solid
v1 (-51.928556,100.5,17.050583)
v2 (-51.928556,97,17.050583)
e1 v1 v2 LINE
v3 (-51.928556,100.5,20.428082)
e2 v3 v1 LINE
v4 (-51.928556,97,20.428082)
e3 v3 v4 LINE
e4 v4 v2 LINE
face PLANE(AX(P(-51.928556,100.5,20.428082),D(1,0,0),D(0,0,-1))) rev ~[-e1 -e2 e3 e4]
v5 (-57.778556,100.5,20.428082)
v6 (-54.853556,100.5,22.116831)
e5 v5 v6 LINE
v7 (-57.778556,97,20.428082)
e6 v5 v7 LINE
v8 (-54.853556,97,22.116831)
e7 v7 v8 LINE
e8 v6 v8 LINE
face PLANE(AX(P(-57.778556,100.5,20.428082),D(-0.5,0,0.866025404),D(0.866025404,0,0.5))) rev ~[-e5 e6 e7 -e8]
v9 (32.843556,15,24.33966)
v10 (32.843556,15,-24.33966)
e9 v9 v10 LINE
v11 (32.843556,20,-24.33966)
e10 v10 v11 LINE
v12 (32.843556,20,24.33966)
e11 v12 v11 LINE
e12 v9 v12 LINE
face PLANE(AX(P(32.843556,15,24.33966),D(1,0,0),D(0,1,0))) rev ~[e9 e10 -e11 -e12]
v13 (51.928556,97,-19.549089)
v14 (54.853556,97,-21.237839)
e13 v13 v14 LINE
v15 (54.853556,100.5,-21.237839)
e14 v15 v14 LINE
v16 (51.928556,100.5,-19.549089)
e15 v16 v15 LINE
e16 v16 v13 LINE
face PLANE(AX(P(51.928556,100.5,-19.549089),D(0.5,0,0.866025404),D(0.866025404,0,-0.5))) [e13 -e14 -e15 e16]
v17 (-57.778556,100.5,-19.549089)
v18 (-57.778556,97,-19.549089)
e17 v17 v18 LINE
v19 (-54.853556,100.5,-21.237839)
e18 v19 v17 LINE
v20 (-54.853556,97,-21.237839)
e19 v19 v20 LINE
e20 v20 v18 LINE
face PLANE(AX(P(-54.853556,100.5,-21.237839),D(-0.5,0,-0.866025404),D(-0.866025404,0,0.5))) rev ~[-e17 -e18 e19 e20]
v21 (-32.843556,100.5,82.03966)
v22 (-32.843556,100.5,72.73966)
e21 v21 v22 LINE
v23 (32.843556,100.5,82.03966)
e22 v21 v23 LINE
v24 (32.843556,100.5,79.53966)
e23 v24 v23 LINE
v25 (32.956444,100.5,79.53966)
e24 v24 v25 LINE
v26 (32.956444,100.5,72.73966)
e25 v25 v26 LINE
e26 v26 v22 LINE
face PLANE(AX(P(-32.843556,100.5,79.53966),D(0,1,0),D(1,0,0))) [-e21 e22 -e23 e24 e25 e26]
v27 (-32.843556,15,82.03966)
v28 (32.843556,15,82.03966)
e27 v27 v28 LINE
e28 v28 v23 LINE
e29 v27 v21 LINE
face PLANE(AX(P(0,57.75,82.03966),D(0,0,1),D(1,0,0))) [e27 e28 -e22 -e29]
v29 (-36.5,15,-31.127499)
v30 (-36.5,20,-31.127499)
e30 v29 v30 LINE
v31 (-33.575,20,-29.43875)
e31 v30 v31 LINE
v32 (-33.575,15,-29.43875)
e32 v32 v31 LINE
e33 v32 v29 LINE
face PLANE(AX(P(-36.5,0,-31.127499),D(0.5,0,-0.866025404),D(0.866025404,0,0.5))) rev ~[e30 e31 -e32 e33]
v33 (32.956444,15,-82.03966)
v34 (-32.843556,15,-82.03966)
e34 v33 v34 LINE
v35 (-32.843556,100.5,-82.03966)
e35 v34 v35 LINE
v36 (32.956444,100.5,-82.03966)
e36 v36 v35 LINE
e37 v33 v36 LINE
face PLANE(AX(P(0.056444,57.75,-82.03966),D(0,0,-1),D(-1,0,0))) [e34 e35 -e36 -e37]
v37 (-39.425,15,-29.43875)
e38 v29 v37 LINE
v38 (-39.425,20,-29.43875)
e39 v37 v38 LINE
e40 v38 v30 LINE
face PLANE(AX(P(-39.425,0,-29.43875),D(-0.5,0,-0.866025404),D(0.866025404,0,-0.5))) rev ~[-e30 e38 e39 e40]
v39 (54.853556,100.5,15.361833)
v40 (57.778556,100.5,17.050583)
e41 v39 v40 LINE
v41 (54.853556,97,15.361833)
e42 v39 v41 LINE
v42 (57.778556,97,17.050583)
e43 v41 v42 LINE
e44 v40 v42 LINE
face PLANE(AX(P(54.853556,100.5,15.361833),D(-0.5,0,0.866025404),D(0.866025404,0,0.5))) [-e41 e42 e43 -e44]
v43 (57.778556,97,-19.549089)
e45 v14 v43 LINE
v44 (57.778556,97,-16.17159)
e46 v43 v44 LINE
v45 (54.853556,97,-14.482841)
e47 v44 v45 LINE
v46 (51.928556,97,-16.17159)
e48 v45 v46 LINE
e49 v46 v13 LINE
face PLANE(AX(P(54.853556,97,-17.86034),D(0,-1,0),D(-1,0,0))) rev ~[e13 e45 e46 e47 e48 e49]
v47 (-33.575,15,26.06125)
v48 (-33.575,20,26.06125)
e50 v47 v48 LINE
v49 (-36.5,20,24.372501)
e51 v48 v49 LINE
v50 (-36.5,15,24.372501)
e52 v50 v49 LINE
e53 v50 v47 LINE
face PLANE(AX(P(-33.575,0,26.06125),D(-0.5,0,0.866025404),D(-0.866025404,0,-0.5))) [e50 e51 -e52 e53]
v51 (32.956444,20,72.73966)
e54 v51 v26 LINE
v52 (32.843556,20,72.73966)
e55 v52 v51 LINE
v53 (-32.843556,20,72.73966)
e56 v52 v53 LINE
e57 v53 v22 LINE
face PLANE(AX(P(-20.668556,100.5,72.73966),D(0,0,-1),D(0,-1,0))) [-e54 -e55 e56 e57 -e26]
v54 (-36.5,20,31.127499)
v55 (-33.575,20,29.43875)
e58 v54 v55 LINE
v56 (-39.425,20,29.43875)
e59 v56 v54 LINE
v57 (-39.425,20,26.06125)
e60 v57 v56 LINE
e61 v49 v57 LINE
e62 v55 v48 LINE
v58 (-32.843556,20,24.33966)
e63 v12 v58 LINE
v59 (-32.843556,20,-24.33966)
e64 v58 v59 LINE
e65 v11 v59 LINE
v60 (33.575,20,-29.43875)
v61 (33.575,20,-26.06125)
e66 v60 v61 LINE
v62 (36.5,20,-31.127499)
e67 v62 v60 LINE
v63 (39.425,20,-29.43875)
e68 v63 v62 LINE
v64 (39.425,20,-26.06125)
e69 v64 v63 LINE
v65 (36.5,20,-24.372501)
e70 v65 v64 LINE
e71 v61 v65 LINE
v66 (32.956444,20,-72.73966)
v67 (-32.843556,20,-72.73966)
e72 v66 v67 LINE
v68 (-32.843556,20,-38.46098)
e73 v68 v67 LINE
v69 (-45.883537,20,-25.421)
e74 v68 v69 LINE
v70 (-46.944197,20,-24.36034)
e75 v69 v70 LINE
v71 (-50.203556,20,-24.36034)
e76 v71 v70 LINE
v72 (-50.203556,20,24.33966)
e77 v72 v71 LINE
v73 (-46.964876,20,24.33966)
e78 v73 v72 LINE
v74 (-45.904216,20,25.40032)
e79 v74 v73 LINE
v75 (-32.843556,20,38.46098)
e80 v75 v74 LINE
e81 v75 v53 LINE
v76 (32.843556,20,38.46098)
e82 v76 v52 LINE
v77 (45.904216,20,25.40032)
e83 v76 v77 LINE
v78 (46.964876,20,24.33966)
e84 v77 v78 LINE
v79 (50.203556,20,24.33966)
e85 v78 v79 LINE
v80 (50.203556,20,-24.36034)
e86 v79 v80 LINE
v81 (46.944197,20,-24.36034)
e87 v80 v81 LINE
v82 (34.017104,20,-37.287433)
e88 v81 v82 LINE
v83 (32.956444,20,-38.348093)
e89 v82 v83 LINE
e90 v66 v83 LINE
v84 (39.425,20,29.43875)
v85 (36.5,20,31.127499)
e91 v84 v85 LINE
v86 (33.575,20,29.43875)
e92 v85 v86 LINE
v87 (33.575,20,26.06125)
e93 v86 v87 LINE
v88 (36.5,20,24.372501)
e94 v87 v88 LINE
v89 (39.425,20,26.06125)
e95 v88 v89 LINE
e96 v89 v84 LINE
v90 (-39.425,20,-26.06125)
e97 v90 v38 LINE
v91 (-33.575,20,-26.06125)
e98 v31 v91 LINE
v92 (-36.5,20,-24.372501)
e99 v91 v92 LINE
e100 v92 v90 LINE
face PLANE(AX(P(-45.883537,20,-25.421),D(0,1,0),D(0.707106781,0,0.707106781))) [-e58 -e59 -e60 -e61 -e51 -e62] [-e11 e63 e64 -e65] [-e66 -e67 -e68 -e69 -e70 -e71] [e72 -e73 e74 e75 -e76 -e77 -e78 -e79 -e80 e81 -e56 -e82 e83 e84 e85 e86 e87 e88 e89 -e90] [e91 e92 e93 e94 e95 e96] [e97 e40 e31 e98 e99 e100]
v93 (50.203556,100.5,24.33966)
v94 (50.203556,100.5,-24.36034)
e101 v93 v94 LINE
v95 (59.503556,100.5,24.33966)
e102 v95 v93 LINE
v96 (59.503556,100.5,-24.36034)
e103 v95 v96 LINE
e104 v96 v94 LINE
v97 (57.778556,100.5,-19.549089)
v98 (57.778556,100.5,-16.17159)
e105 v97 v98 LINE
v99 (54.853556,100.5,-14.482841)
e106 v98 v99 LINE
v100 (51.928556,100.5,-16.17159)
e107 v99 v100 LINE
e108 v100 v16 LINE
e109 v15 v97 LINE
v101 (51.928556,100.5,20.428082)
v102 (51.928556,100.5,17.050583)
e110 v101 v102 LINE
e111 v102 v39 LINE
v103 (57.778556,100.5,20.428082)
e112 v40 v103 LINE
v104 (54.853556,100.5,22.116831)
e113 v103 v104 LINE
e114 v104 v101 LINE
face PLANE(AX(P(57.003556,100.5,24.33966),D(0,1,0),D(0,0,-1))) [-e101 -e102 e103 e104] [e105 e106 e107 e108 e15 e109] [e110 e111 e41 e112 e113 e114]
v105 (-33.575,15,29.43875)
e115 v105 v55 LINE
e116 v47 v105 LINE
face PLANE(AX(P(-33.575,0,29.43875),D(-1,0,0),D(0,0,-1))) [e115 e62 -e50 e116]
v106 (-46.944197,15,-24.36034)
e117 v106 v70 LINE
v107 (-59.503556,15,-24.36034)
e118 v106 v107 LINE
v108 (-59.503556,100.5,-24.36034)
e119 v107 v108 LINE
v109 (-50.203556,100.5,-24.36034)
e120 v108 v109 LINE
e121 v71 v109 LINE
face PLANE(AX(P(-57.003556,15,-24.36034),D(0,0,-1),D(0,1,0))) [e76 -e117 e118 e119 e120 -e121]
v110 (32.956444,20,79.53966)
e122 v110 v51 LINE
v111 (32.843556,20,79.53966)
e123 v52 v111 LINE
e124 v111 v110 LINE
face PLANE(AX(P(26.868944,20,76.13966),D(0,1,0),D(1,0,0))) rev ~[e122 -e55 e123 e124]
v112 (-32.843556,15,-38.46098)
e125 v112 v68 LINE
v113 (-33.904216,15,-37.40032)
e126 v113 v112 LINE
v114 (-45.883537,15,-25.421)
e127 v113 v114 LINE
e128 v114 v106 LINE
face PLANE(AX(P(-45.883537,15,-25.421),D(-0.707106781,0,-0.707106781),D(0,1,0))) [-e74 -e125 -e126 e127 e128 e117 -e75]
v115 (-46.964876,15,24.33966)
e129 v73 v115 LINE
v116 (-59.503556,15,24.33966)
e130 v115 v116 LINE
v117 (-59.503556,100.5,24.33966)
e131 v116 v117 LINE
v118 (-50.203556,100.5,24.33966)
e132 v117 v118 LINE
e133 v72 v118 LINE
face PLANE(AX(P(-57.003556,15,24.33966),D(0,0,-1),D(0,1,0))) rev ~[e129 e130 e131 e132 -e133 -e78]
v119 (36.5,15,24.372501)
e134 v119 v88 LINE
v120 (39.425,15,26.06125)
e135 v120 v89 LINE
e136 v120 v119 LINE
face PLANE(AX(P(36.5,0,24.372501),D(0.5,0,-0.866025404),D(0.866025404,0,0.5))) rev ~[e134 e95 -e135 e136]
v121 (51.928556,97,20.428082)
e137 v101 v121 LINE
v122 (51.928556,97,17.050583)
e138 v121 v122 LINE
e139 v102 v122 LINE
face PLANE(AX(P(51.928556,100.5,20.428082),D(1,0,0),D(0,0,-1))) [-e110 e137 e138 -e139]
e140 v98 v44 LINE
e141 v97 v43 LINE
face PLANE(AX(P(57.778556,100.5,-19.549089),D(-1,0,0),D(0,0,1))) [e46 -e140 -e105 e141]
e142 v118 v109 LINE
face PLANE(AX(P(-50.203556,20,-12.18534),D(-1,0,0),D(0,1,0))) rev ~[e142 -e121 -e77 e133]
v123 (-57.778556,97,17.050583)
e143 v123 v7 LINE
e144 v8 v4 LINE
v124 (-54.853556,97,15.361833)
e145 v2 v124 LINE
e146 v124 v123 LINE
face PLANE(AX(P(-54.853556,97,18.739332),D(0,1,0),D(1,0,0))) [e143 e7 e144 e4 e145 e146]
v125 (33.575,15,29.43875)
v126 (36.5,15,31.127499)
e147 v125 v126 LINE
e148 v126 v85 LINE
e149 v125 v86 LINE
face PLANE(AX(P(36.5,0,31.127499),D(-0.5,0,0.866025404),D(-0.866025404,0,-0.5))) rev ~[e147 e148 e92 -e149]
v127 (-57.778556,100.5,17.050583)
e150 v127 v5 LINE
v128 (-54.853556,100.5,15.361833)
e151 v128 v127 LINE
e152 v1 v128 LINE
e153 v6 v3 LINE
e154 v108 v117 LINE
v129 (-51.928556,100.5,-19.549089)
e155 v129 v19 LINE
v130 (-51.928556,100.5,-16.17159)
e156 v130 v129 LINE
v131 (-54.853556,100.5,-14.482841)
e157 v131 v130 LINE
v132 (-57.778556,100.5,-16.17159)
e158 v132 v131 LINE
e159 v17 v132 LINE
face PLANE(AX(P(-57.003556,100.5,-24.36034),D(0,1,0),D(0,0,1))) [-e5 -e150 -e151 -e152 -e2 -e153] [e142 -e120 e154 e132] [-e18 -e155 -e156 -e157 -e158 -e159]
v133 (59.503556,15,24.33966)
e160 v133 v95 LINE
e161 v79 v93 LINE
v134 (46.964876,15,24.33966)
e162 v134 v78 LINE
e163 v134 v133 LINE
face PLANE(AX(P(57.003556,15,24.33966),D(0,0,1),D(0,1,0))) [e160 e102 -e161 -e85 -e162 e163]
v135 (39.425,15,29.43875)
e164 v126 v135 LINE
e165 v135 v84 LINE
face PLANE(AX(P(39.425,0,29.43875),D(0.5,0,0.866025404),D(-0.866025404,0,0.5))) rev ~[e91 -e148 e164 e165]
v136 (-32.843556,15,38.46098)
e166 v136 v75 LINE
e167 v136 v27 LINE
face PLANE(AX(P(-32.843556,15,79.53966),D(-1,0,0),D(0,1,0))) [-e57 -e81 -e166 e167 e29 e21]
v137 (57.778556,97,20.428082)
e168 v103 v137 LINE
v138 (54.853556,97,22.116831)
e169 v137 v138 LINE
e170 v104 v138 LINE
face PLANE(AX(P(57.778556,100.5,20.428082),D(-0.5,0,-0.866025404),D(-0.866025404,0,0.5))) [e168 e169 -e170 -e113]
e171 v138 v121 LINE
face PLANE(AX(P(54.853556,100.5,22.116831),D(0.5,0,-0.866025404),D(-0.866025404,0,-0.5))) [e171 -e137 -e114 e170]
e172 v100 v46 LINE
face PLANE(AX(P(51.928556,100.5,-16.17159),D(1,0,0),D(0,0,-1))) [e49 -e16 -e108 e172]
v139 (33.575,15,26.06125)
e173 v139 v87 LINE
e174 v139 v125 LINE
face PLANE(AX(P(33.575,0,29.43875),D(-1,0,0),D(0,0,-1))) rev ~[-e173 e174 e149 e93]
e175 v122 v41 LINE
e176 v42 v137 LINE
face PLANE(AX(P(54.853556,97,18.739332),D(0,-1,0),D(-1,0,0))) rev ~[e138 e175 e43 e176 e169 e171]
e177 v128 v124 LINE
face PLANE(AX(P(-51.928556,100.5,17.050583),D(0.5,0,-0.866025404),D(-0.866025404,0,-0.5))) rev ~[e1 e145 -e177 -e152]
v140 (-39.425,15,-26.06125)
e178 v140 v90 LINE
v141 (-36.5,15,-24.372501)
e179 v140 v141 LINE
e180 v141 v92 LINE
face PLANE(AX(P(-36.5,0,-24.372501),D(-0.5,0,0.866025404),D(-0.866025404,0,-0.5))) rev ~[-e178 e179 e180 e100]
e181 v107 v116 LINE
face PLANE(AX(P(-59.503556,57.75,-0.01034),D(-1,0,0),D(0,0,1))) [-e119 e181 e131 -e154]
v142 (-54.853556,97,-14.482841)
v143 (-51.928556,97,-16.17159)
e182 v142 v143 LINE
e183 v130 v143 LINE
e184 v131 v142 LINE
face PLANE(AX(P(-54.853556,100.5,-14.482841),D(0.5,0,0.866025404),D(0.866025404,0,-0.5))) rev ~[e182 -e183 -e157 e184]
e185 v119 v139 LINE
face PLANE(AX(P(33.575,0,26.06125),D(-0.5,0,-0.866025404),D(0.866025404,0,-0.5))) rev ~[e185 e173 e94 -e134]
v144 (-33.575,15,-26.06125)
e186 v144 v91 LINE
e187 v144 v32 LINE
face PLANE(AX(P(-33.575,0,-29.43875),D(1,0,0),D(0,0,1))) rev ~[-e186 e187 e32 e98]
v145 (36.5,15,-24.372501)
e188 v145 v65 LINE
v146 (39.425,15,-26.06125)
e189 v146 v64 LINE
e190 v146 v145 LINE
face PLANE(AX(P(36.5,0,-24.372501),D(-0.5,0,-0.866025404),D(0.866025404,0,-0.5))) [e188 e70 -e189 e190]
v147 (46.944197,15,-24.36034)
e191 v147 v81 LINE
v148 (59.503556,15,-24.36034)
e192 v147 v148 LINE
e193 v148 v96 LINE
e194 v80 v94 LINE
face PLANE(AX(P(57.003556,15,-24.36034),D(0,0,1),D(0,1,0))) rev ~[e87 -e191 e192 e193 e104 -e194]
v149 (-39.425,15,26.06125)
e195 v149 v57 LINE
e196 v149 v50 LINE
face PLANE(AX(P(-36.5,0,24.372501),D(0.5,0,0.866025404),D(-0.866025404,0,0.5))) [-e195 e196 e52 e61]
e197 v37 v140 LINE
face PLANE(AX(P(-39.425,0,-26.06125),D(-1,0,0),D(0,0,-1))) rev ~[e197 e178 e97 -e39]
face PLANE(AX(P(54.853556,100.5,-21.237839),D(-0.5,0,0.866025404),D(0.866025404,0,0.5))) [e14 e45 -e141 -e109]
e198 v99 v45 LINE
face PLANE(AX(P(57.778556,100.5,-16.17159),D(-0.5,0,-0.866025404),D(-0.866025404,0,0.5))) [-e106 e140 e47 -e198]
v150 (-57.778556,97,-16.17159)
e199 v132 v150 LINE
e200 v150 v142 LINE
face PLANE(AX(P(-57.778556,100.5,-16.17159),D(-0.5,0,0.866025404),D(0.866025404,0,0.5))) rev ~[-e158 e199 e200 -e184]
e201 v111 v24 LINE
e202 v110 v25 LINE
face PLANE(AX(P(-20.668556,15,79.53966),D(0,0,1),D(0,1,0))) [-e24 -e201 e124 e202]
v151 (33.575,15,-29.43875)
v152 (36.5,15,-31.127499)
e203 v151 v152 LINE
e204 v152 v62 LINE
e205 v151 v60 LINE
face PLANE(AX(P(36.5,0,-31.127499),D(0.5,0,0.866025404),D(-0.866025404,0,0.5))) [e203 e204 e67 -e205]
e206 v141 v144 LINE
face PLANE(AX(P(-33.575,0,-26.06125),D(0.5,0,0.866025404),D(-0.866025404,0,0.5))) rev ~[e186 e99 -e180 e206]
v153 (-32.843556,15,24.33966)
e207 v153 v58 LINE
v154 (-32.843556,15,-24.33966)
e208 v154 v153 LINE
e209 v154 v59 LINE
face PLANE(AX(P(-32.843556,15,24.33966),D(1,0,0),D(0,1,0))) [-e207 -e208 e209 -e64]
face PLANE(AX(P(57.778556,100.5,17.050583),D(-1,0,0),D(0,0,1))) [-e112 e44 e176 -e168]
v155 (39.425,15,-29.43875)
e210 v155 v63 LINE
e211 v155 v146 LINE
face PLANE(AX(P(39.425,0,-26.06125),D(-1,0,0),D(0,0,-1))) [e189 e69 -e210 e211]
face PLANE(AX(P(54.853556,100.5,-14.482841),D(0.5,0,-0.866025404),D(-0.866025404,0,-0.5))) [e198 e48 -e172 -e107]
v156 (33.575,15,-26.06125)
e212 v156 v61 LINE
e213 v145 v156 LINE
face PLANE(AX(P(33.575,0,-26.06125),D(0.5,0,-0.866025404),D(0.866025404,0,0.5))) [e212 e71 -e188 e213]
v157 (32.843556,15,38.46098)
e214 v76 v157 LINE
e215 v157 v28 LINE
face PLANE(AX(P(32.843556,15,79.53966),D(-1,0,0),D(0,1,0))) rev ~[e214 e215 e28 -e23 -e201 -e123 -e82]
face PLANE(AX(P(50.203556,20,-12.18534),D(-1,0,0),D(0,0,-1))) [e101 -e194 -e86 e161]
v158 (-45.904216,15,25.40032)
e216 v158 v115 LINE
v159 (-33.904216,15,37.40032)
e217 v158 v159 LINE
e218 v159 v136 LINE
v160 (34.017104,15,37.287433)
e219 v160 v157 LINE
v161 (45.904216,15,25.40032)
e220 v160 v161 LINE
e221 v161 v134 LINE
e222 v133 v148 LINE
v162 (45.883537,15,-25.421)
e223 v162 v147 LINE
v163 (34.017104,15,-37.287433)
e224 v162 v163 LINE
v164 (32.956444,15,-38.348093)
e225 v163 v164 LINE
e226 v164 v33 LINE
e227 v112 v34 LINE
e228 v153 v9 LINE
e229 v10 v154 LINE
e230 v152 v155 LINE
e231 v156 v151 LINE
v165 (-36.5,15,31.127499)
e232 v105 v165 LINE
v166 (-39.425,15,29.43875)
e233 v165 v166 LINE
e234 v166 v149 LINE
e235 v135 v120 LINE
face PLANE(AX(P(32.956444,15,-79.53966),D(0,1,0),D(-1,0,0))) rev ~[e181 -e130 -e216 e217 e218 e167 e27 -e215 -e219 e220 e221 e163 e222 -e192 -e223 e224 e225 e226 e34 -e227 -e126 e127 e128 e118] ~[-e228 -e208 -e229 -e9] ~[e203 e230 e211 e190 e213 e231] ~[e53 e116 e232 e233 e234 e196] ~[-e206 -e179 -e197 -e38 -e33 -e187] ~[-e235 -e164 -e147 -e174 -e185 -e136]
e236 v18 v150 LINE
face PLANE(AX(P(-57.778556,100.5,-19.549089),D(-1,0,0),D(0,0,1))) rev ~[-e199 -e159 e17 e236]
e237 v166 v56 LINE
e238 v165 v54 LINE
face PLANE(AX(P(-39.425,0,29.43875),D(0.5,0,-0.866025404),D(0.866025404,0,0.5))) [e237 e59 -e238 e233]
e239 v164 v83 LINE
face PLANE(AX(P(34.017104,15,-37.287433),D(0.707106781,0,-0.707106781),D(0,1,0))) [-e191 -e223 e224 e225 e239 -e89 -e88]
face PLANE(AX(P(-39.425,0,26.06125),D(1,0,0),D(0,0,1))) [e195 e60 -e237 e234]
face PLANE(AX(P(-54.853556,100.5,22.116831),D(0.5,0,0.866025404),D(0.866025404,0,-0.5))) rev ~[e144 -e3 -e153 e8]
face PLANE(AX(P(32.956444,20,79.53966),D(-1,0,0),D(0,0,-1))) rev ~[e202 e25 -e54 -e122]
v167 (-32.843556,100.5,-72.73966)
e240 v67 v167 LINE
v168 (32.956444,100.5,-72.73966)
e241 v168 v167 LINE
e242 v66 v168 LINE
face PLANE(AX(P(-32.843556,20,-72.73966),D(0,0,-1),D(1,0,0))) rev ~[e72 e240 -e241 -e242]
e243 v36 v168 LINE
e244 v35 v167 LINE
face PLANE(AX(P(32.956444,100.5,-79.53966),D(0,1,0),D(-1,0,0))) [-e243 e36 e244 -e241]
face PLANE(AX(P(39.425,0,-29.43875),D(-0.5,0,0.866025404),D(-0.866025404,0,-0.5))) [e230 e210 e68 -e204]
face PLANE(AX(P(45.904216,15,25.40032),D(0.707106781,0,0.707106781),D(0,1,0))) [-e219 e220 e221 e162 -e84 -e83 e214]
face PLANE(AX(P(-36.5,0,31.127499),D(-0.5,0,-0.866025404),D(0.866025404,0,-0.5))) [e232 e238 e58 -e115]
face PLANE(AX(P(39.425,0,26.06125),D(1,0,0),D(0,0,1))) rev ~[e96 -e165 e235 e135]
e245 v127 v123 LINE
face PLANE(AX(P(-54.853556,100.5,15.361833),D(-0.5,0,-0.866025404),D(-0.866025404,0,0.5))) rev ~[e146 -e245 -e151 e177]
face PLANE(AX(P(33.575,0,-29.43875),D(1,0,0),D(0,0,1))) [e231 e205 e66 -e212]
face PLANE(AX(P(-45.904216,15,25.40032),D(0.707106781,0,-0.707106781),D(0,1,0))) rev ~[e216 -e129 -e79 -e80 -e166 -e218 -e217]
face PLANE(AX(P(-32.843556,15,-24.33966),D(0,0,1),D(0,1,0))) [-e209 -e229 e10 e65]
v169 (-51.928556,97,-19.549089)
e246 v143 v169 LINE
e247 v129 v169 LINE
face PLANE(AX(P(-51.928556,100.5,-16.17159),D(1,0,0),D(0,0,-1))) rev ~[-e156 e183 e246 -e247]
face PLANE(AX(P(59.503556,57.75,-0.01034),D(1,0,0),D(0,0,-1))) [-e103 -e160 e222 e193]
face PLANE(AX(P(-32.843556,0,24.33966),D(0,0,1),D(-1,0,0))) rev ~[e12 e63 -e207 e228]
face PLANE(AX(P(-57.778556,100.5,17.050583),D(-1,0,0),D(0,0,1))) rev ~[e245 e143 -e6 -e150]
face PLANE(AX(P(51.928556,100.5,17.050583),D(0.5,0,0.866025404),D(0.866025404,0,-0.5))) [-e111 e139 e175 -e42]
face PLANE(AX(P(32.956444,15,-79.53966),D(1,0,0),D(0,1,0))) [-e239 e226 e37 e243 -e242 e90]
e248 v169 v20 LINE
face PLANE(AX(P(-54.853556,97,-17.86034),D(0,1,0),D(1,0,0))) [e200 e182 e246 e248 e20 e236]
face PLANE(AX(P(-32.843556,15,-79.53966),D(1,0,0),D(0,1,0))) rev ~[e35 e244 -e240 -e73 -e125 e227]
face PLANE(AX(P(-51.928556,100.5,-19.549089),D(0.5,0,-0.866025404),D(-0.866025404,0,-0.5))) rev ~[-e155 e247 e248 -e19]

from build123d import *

# Parameters (mm, degrees)
BOSS_EXTRUDE1_DEPTH   = 20
BOSS_EXTRUDE1_2_DEPTH = 20
BOSS_EXTRUDE1_3_DEPTH = 20
BOSS_EXTRUDE1_4_DEPTH = 20
SKETCH6_W             = 12
SKETCH6_H             = 5
BOSS_EXTRUDE5_DEPTH   = 65.8
SKETCH7_W             = 12
SKETCH7_H             = 5
BOSS_EXTRUDE6_DEPTH   = 48.7
SKETCH8_W             = 12.175
SKETCH8_H             = 5
BOSS_EXTRUDE7_DEPTH   = 12.16
SKETCH9_W             = 12.175
SKETCH9_H             = 5
BOSS_EXTRUDE8_DEPTH   = 12.16
SKETCH11_W            = 6.8
SKETCH11_H            = 12.175
BOSS_EXTRUDE9_DEPTH   = 80.5
SKETCH14_W            = 12.175
SKETCH14_H            = 5
BOSS_EXTRUDE12_DEPTH  = 43.2
SKETCH15_W            = 12.175
SKETCH15_H            = 5
BOSS_EXTRUDE13_DEPTH  = 43.2
SKETCH16_W            = 12.175
SKETCH16_H            = 6.8
BOSS_EXTRUDE14_DEPTH  = 80.5
SKETCH17_W            = 16.970562748
SKETCH17_H            = 15
CUT_EXTRUDE1_DEPTH    = 10
SKETCH18_W            = 16.970562748
SKETCH18_H            = 15
CUT_EXTRUDE2_DEPTH    = 10
SKETCH19_W            = 16.970562748
SKETCH19_H            = 15
CUT_EXTRUDE3_DEPTH    = 10
SKETCH20_W            = 16.970562748
SKETCH20_H            = 15
CUT_EXTRUDE4_DEPTH    = 10
BOSS_EXTRUDE15_DEPTH  = 50
BOSS_EXTRUDE16_DEPTH  = 30
SKETCH26_W            = 16.970562748
SKETCH26_H            = 5
BOSS_EXTRUDE17_DEPTH  = 1.5
SKETCH27_W            = 1.5
SKETCH27_H            = 5
BOSS_EXTRUDE18_DEPTH  = 2.5
SKETCH28_W            = 1.5
SKETCH28_H            = 5
BOSS_EXTRUDE20_DEPTH  = 2.5
SKETCH29_W            = 16.810915376
SKETCH29_H            = 5
BOSS_EXTRUDE21_DEPTH  = 1.5
SKETCH30_W            = 1.5
SKETCH30_H            = 5
BOSS_EXTRUDE22_DEPTH  = 3.5
SKETCH31_W            = 1.5
SKETCH31_H            = 5
BOSS_EXTRUDE23_DEPTH  = 3.5
SKETCH32_W            = 16.781669725
SKETCH32_H            = 5
BOSS_EXTRUDE24_DEPTH  = 1.5
SKETCH33_W            = 1.5
SKETCH33_H            = 5
BOSS_EXTRUDE25_DEPTH  = 2.5
SKETCH34_W            = 1.5
SKETCH34_H            = 5
BOSS_EXTRUDE26_DEPTH  = 2.5
SKETCH35_W            = 16.941317097
SKETCH35_H            = 5
BOSS_EXTRUDE27_DEPTH  = 1.5
SKETCH36_W            = 1.5
SKETCH36_H            = 5
BOSS_EXTRUDE28_DEPTH  = 2.5
SKETCH38_W            = 1.5
SKETCH38_H            = 5
BOSS_EXTRUDE29_DEPTH  = 2.5
SKETCH43_W            = 48.7
SKETCH43_H            = 85.5
BOSS_EXTRUDE30_DEPTH  = 2.5
SKETCH44_W            = 48.7
SKETCH44_H            = 85.5
BOSS_EXTRUDE31_DEPTH  = 2.5
SKETCH45_W            = 65.68711226
SKETCH45_H            = 85.5
BOSS_EXTRUDE32_DEPTH  = 2.5
SKETCH46_W            = 65.8
SKETCH46_H            = 85.5
BOSS_EXTRUDE33_DEPTH  = 2.5
CUT_EXTRUDE5_DEPTH    = 3.5


with BuildPart() as part:
    # Sketch2 → Boss-Extrude1 (new body)
    with BuildSketch(Plane(origin=(0, 0, 0), x_dir=(1, 0, 0), z_dir=(0, 1, 0))):
        Polygon((-32.84355613, 36.339660101), (-32.84355613, 24.339660101), (-44.84355613, 24.339660101), align=None)
        Polygon((-33.575, 29.438749537), (-33.575, 26.061250463), (-36.5, 24.372500925), (-39.425, 26.061250463), (-39.425, 29.438749537), (-36.5, 31.127499075), align=None, mode=Mode.SUBTRACT)
    extrude(amount=BOSS_EXTRUDE1_DEPTH)



with BuildPart() as body_2:
    # Sketch2 → Boss-Extrude1 2 (new body)
    with BuildSketch(Plane(origin=(0, 0, 0), x_dir=(1, 0, 0), z_dir=(0, 1, 0))):
        Polygon((32.84355613, 24.339660101), (44.84355613, 24.339660101), (32.84355613, 36.339660101), align=None)
        Polygon((33.575, 29.438749537), (33.575, 26.061250463), (36.5, 24.372500925), (39.425, 26.061250463), (39.425, 29.438749537), (36.5, 31.127499075), align=None, mode=Mode.SUBTRACT)
    extrude(amount=BOSS_EXTRUDE1_2_DEPTH)


with BuildPart() as body_3:
    # Sketch2 → Boss-Extrude1 3 (new body)
    with BuildSketch(Plane(origin=(0, 0, 0), x_dir=(1, 0, 0), z_dir=(0, 1, 0))):
        Polygon((44.84355613, -24.339660101), (32.84355613, -36.339660101), (32.84355613, -24.339660101), align=None)
        Polygon((39.425, -26.061250463), (39.425, -29.438749537), (36.5, -31.127499075), (33.575, -29.438749537), (33.575, -26.061250463), (36.5, -24.372500925), align=None, mode=Mode.SUBTRACT)
    extrude(amount=BOSS_EXTRUDE1_3_DEPTH)


with BuildPart() as body_4:
    # Sketch2 → Boss-Extrude1 4 (new body)
    with BuildSketch(Plane(origin=(0, 0, 0), x_dir=(1, 0, 0), z_dir=(0, 1, 0))):
        Polygon((-44.84355613, -24.339660101), (-32.84355613, -36.339660101), (-32.84355613, -24.339660101), align=None)
        Polygon((-36.5, -31.127499075), (-33.575, -29.438749537), (-33.575, -26.061250463), (-36.5, -24.372500925), (-39.425, -26.061250463), (-39.425, -29.438749537), align=None, mode=Mode.SUBTRACT)
    extrude(amount=BOSS_EXTRUDE1_4_DEPTH)


with BuildPart() as part_1:
    add(part.part)

    add(body_2.part)  # Boss-Extrude5 merges body 2

    add(body_3.part)  # Boss-Extrude5 merges body 3

    add(body_4.part)  # Boss-Extrude5 merges body 4
    # Sketch6 → Boss-Extrude5 (add)
    with BuildSketch(Plane(origin=(-32.84355613, 0, 0), x_dir=(0, 0, -1), z_dir=(1, 0, 0))):
        with Locations((30.339660101, 17.5)):
            Rectangle(SKETCH6_W, SKETCH6_H)
        with Locations((-30.339660101, 17.5)):
            Rectangle(SKETCH6_W, SKETCH6_H)
    extrude(amount=BOSS_EXTRUDE5_DEPTH)

    # Sketch7 → Boss-Extrude6 (add)
    with BuildSketch(Plane(origin=(0, 0, 24.339660101), x_dir=(-1, 0, 0), z_dir=(0, 0, -1))):
        with Locations((-38.84355613, 17.5)):
            Rectangle(SKETCH7_W, SKETCH7_H)
        with Locations((38.84355613, 17.5)):
            Rectangle(SKETCH7_W, SKETCH7_H)
    extrude(amount=BOSS_EXTRUDE6_DEPTH)

    # Sketch8 → Boss-Extrude7 (add)
    with BuildSketch(Plane(origin=(44.84355613, 0, 0), x_dir=(0, 0, -1), z_dir=(1, 0, 0))):
        with Locations((-18.252160101, 17.5)):
            Rectangle(SKETCH8_W, SKETCH8_H)
        with Locations((18.272839899, 17.5)):
            Rectangle(SKETCH8_W, SKETCH8_H)
    extrude(amount=BOSS_EXTRUDE7_DEPTH)

    # Sketch9 → Boss-Extrude8 (add)
    with BuildSketch(Plane.ZY.offset(44.84355613)):
        with Locations((-18.272839899, 17.5)):
            Rectangle(SKETCH9_W, SKETCH9_H)
        with Locations((18.252160101, 17.5)):
            Rectangle(SKETCH9_W, SKETCH9_H)
    extrude(amount=BOSS_EXTRUDE8_DEPTH)

    # Sketch11 → Boss-Extrude9 (add)
    with BuildSketch(Plane(origin=(0, 20, 0), x_dir=(1, 0, 0), z_dir=(0, 1, 0))):
        with Locations((-53.60355613, -18.252160101)):
            Rectangle(SKETCH11_W, SKETCH11_H)
        with Locations((-53.60355613, 18.272839899)):
            Rectangle(SKETCH11_W, SKETCH11_H)
        with Locations((53.60355613, 18.272839899)):
            Rectangle(SKETCH11_W, SKETCH11_H)
        with Locations((53.60355613, -18.252160101)):
            Rectangle(SKETCH11_W, SKETCH11_H)
    extrude(amount=BOSS_EXTRUDE9_DEPTH)

    # Sketch14 → Boss-Extrude12 (add)
    with BuildSketch(Plane.XY.offset(36.339660101)):
        with Locations((-26.75605613, 17.5)):
            Rectangle(SKETCH14_W, SKETCH14_H)
        with Locations((26.75605613, 17.5)):
            Rectangle(SKETCH14_W, SKETCH14_H)
    extrude(amount=BOSS_EXTRUDE12_DEPTH)

    # Sketch15 → Boss-Extrude13 (add)
    with BuildSketch(Plane(origin=(0, 0, -36.339660101), x_dir=(-1, 0, 0), z_dir=(0, 0, -1))):
        with Locations((-26.86894387, 17.5)):
            Rectangle(SKETCH15_W, SKETCH15_H)
        with Locations((26.75605613, 17.5)):
            Rectangle(SKETCH15_W, SKETCH15_H)
    extrude(amount=BOSS_EXTRUDE13_DEPTH)

    # Sketch16 → Boss-Extrude14 (add)
    with BuildSketch(Plane(origin=(0, 20, 0), x_dir=(1, 0, 0), z_dir=(0, 1, 0))):
        with Locations((-26.75605613, 76.139660101)):
            Rectangle(SKETCH16_W, SKETCH16_H)
        with Locations((26.86894387, 76.139660101)):
            Rectangle(SKETCH16_W, SKETCH16_H)
        with Locations((26.86894387, -76.139660101)):
            Rectangle(SKETCH16_W, SKETCH16_H)
        with Locations((-26.75605613, -76.139660101)):
            Rectangle(SKETCH16_W, SKETCH16_H)
    extrude(amount=BOSS_EXTRUDE14_DEPTH)

    # Sketch17 → Cut-Extrude1 (cut)
    with BuildSketch(Plane(origin=(34.591608116, 0, -34.591608116), x_dir=(-0.707106781, 0, -0.707106781), z_dir=(0.707106781, 0, -0.707106781))):
        with Locations((-6.013162549, 7.5)):
            Rectangle(SKETCH17_W, SKETCH17_H)
    extrude(amount=-CUT_EXTRUDE1_DEPTH, mode=Mode.SUBTRACT)

    # Sketch18 → Cut-Extrude2 (cut)
    with BuildSketch(Plane(origin=(-34.591608116, 0, -34.591608116), x_dir=(-0.707106781, 0, 0.707106781), z_dir=(-0.707106781, 0, -0.707106781))):
        with Locations((6.013162549, 7.5)):
            Rectangle(SKETCH18_W, SKETCH18_H)
    extrude(amount=-CUT_EXTRUDE2_DEPTH, mode=Mode.SUBTRACT)

    # Sketch19 → Cut-Extrude3 (cut)
    with BuildSketch(Plane(origin=(-34.591608116, 0, 34.591608116), x_dir=(0.707106781, 0, 0.707106781), z_dir=(-0.707106781, 0, 0.707106781))):
        with Locations((-6.013162549, 7.5)):
            Rectangle(SKETCH19_W, SKETCH19_H)
    extrude(amount=-CUT_EXTRUDE3_DEPTH, mode=Mode.SUBTRACT)

    # Sketch20 → Cut-Extrude4 (cut)
    with BuildSketch(Plane(origin=(34.591608116, 0, 34.591608116), x_dir=(0.707106781, 0, -0.707106781), z_dir=(0.707106781, 0, 0.707106781))):
        with Locations((6.013162549, 7.5)):
            Rectangle(SKETCH20_W, SKETCH20_H)
    extrude(amount=-CUT_EXTRUDE4_DEPTH, mode=Mode.SUBTRACT)

    # Sketch21 → Boss-Extrude15 (add)
    with BuildSketch(Plane(origin=(-20.66855613, 0, 0), x_dir=(0, 0, -1), z_dir=(1, 0, 0))):
        Polygon((-79.539660101, 100.5), (-72.739660101, 100.5), (-72.739660101, 20), (-36.339660101, 20), (-36.339660101, 15), (-79.539660101, 15), align=None)
        Polygon((79.539660101, 100.5), (72.739660101, 100.5), (72.739660101, 20), (36.339660101, 20), (36.339660101, 15), (79.539660101, 15), align=None)
    extrude(amount=BOSS_EXTRUDE15_DEPTH)

    # Sketch25 → Boss-Extrude16 (add)
    with BuildSketch(Plane.XY.offset(-12.185339899)):
        Polygon((-50.20355613, 100.5), (-57.00355613, 100.5), (-57.00355613, 15), (-44.84355613, 15), (-44.84355613, 20), (-50.20355613, 20), align=None)
        Polygon((50.20355613, 100.5), (57.00355613, 100.5), (57.00355613, 15), (44.84355613, 15), (44.84355613, 20), (50.20355613, 20), align=None)
    extrude(amount=BOSS_EXTRUDE16_DEPTH)

    # Sketch26 → Boss-Extrude17 (add)
    with BuildSketch(Plane(origin=(-34.591608116, 0, 34.591608116), x_dir=(0.707106781, 0, 0.707106781), z_dir=(-0.707106781, 0, 0.707106781))):
        with Locations((-6.013162549, 17.5)):
            Rectangle(SKETCH26_W, SKETCH26_H)
    extrude(amount=BOSS_EXTRUDE17_DEPTH)

    # Sketch27 → Boss-Extrude18 (add)
    with BuildSketch(Plane(origin=(1.748051985, 0, 1.748051985), x_dir=(0.707106781, 0, -0.707106781), z_dir=(0.707106781, 0, 0.707106781))):
        with Locations((-49.669921341, 17.5)):
            Rectangle(SKETCH27_W, SKETCH27_H)
    extrude(amount=BOSS_EXTRUDE18_DEPTH)

    # Sketch28 → Boss-Extrude20 (add)
    with BuildSketch(Plane(origin=(-10.251948015, 0, -10.251948015), x_dir=(-0.707106781, 0, 0.707106781), z_dir=(-0.707106781, 0, -0.707106781))):
        with Locations((49.669921341, 17.5)):
            Rectangle(SKETCH28_W, SKETCH28_H)
    extrude(amount=BOSS_EXTRUDE20_DEPTH)

    # Sketch29 → Boss-Extrude21 (add)
    with BuildSketch(Plane(origin=(34.591608116, 0, 34.591608116), x_dir=(0.707106781, 0, -0.707106781), z_dir=(0.707106781, 0, 0.707106781))):
        with Locations((6.092986235, 17.5)):
            Rectangle(SKETCH29_W, SKETCH29_H)
    extrude(amount=BOSS_EXTRUDE21_DEPTH)

    # Sketch30 → Boss-Extrude22 (add)
    with BuildSketch(Plane(origin=(-1.635164246, 0, 1.635164246), x_dir=(0.707106781, 0, 0.707106781), z_dir=(-0.707106781, 0, 0.707106781))):
        with Locations((49.669921341, 17.5)):
            Rectangle(SKETCH30_W, SKETCH30_H)
    extrude(amount=BOSS_EXTRUDE22_DEPTH)

    # Sketch31 → Boss-Extrude23 (add)
    with BuildSketch(Plane(origin=(10.251948015, 0, -10.251948015), x_dir=(-0.707106781, 0, -0.707106781), z_dir=(0.707106781, 0, -0.707106781))):
        with Locations((-49.669921341, 17.5)):
            Rectangle(SKETCH31_W, SKETCH31_H)
    extrude(amount=BOSS_EXTRUDE23_DEPTH)

    # Sketch32 → Boss-Extrude24 (add)
    with BuildSketch(Plane(origin=(34.591608116, 0, -34.591608116), x_dir=(-0.707106781, 0, -0.707106781), z_dir=(0.707106781, 0, -0.707106781))):
        with Locations((-6.07836341, 17.5)):
            Rectangle(SKETCH32_W, SKETCH32_H)
    extrude(amount=BOSS_EXTRUDE24_DEPTH)

    # Sketch33 → Boss-Extrude25 (add)
    with BuildSketch(Plane(origin=(10.231268217, 0, 10.231268217), x_dir=(0.707106781, 0, -0.707106781), z_dir=(0.707106781, 0, 0.707106781))):
        with Locations((49.669921341, 17.5)):
            Rectangle(SKETCH33_W, SKETCH33_H)
    extrude(amount=BOSS_EXTRUDE25_DEPTH)

    # Sketch34 → Boss-Extrude26 (add)
    with BuildSketch(Plane(origin=(-1.635164246, 0, -1.635164246), x_dir=(-0.707106781, 0, 0.707106781), z_dir=(-0.707106781, 0, -0.707106781))):
        with Locations((-49.669921341, 17.5)):
            Rectangle(SKETCH34_W, SKETCH34_H)
    extrude(amount=BOSS_EXTRUDE26_DEPTH)

    # Sketch35 → Boss-Extrude27 (add)
    with BuildSketch(Plane(origin=(-34.591608116, 0, -34.591608116), x_dir=(-0.707106781, 0, 0.707106781), z_dir=(-0.707106781, 0, -0.707106781))):
        with Locations((5.998539724, 17.5)):
            Rectangle(SKETCH35_W, SKETCH35_H)
    extrude(amount=BOSS_EXTRUDE27_DEPTH)

    # Sketch36 → Boss-Extrude28 (add)
    with BuildSketch(Plane(origin=(1.748051985, 0, -1.748051985), x_dir=(-0.707106781, 0, -0.707106781), z_dir=(0.707106781, 0, -0.707106781))):
        with Locations((49.669921341, 17.5)):
            Rectangle(SKETCH36_W, SKETCH36_H)
    extrude(amount=BOSS_EXTRUDE28_DEPTH)

    # Sketch38 → Boss-Extrude29 (add)
    with BuildSketch(Plane(origin=(-10.231268217, 0, 10.231268217), x_dir=(0.707106781, 0, 0.707106781), z_dir=(-0.707106781, 0, 0.707106781))):
        with Locations((-49.669921341, 17.5)):
            Rectangle(SKETCH38_W, SKETCH38_H)
    extrude(amount=BOSS_EXTRUDE29_DEPTH)

    # Sketch43 → Boss-Extrude30 (add)
    with BuildSketch(Plane.ZY.offset(57.00355613)):
        with Locations((-0.010339899, 57.75)):
            Rectangle(SKETCH43_W, SKETCH43_H)
    extrude(amount=BOSS_EXTRUDE30_DEPTH)

    # Sketch44 → Boss-Extrude31 (add)
    with BuildSketch(Plane(origin=(57.00355613, 0, 0), x_dir=(0, 0, -1), z_dir=(1, 0, 0))):
        with Locations((0.010339899, 57.75)):
            Rectangle(SKETCH44_W, SKETCH44_H)
    extrude(amount=BOSS_EXTRUDE31_DEPTH)

    # Sketch45 → Boss-Extrude32 (add)
    with BuildSketch(Plane.XY.offset(79.539660101)):
        with Locations((0, 57.75)):
            Rectangle(SKETCH45_W, SKETCH45_H)
    extrude(amount=BOSS_EXTRUDE32_DEPTH)

    # Sketch46 → Boss-Extrude33 (add)
    with BuildSketch(Plane(origin=(0, 0, -79.539660101), x_dir=(-1, 0, 0), z_dir=(0, 0, -1))):
        with Locations((-0.05644387, 57.75)):
            Rectangle(SKETCH46_W, SKETCH46_H)
    extrude(amount=BOSS_EXTRUDE33_DEPTH)

    # Sketch47 → Cut-Extrude5 (cut)
    with BuildSketch(Plane(origin=(0, 100.5, 0), x_dir=(1, 0, 0), z_dir=(0, 1, 0))):
        Polygon((-54.85355613, -22.116831472), (-51.92855613, -20.428081935), (-51.92855613, -17.05058286), (-54.85355613, -15.361833323), (-57.77855613, -17.05058286), (-57.77855613, -20.428081935), align=None)
        Polygon((57.77855613, 16.171590362), (54.85355613, 14.482840824), (51.92855613, 16.171590362), (51.92855613, 19.549089436), (54.85355613, 21.237838974), (57.77855613, 19.549089436), align=None)
        Polygon((-54.85355613, 14.482840824), (-51.92855613, 16.171590362), (-51.92855613, 19.549089436), (-54.85355613, 21.237838974), (-57.77855613, 19.549089436), (-57.77855613, 16.171590362), align=None)
        Polygon((57.77855613, -20.428081935), (54.85355613, -22.116831472), (51.92855613, -20.428081935), (51.92855613, -17.05058286), (54.85355613, -15.361833323), (57.77855613, -17.05058286), align=None)
    extrude(amount=-CUT_EXTRUDE5_DEPTH, mode=Mode.SUBTRACT)


solid = part_1.part
